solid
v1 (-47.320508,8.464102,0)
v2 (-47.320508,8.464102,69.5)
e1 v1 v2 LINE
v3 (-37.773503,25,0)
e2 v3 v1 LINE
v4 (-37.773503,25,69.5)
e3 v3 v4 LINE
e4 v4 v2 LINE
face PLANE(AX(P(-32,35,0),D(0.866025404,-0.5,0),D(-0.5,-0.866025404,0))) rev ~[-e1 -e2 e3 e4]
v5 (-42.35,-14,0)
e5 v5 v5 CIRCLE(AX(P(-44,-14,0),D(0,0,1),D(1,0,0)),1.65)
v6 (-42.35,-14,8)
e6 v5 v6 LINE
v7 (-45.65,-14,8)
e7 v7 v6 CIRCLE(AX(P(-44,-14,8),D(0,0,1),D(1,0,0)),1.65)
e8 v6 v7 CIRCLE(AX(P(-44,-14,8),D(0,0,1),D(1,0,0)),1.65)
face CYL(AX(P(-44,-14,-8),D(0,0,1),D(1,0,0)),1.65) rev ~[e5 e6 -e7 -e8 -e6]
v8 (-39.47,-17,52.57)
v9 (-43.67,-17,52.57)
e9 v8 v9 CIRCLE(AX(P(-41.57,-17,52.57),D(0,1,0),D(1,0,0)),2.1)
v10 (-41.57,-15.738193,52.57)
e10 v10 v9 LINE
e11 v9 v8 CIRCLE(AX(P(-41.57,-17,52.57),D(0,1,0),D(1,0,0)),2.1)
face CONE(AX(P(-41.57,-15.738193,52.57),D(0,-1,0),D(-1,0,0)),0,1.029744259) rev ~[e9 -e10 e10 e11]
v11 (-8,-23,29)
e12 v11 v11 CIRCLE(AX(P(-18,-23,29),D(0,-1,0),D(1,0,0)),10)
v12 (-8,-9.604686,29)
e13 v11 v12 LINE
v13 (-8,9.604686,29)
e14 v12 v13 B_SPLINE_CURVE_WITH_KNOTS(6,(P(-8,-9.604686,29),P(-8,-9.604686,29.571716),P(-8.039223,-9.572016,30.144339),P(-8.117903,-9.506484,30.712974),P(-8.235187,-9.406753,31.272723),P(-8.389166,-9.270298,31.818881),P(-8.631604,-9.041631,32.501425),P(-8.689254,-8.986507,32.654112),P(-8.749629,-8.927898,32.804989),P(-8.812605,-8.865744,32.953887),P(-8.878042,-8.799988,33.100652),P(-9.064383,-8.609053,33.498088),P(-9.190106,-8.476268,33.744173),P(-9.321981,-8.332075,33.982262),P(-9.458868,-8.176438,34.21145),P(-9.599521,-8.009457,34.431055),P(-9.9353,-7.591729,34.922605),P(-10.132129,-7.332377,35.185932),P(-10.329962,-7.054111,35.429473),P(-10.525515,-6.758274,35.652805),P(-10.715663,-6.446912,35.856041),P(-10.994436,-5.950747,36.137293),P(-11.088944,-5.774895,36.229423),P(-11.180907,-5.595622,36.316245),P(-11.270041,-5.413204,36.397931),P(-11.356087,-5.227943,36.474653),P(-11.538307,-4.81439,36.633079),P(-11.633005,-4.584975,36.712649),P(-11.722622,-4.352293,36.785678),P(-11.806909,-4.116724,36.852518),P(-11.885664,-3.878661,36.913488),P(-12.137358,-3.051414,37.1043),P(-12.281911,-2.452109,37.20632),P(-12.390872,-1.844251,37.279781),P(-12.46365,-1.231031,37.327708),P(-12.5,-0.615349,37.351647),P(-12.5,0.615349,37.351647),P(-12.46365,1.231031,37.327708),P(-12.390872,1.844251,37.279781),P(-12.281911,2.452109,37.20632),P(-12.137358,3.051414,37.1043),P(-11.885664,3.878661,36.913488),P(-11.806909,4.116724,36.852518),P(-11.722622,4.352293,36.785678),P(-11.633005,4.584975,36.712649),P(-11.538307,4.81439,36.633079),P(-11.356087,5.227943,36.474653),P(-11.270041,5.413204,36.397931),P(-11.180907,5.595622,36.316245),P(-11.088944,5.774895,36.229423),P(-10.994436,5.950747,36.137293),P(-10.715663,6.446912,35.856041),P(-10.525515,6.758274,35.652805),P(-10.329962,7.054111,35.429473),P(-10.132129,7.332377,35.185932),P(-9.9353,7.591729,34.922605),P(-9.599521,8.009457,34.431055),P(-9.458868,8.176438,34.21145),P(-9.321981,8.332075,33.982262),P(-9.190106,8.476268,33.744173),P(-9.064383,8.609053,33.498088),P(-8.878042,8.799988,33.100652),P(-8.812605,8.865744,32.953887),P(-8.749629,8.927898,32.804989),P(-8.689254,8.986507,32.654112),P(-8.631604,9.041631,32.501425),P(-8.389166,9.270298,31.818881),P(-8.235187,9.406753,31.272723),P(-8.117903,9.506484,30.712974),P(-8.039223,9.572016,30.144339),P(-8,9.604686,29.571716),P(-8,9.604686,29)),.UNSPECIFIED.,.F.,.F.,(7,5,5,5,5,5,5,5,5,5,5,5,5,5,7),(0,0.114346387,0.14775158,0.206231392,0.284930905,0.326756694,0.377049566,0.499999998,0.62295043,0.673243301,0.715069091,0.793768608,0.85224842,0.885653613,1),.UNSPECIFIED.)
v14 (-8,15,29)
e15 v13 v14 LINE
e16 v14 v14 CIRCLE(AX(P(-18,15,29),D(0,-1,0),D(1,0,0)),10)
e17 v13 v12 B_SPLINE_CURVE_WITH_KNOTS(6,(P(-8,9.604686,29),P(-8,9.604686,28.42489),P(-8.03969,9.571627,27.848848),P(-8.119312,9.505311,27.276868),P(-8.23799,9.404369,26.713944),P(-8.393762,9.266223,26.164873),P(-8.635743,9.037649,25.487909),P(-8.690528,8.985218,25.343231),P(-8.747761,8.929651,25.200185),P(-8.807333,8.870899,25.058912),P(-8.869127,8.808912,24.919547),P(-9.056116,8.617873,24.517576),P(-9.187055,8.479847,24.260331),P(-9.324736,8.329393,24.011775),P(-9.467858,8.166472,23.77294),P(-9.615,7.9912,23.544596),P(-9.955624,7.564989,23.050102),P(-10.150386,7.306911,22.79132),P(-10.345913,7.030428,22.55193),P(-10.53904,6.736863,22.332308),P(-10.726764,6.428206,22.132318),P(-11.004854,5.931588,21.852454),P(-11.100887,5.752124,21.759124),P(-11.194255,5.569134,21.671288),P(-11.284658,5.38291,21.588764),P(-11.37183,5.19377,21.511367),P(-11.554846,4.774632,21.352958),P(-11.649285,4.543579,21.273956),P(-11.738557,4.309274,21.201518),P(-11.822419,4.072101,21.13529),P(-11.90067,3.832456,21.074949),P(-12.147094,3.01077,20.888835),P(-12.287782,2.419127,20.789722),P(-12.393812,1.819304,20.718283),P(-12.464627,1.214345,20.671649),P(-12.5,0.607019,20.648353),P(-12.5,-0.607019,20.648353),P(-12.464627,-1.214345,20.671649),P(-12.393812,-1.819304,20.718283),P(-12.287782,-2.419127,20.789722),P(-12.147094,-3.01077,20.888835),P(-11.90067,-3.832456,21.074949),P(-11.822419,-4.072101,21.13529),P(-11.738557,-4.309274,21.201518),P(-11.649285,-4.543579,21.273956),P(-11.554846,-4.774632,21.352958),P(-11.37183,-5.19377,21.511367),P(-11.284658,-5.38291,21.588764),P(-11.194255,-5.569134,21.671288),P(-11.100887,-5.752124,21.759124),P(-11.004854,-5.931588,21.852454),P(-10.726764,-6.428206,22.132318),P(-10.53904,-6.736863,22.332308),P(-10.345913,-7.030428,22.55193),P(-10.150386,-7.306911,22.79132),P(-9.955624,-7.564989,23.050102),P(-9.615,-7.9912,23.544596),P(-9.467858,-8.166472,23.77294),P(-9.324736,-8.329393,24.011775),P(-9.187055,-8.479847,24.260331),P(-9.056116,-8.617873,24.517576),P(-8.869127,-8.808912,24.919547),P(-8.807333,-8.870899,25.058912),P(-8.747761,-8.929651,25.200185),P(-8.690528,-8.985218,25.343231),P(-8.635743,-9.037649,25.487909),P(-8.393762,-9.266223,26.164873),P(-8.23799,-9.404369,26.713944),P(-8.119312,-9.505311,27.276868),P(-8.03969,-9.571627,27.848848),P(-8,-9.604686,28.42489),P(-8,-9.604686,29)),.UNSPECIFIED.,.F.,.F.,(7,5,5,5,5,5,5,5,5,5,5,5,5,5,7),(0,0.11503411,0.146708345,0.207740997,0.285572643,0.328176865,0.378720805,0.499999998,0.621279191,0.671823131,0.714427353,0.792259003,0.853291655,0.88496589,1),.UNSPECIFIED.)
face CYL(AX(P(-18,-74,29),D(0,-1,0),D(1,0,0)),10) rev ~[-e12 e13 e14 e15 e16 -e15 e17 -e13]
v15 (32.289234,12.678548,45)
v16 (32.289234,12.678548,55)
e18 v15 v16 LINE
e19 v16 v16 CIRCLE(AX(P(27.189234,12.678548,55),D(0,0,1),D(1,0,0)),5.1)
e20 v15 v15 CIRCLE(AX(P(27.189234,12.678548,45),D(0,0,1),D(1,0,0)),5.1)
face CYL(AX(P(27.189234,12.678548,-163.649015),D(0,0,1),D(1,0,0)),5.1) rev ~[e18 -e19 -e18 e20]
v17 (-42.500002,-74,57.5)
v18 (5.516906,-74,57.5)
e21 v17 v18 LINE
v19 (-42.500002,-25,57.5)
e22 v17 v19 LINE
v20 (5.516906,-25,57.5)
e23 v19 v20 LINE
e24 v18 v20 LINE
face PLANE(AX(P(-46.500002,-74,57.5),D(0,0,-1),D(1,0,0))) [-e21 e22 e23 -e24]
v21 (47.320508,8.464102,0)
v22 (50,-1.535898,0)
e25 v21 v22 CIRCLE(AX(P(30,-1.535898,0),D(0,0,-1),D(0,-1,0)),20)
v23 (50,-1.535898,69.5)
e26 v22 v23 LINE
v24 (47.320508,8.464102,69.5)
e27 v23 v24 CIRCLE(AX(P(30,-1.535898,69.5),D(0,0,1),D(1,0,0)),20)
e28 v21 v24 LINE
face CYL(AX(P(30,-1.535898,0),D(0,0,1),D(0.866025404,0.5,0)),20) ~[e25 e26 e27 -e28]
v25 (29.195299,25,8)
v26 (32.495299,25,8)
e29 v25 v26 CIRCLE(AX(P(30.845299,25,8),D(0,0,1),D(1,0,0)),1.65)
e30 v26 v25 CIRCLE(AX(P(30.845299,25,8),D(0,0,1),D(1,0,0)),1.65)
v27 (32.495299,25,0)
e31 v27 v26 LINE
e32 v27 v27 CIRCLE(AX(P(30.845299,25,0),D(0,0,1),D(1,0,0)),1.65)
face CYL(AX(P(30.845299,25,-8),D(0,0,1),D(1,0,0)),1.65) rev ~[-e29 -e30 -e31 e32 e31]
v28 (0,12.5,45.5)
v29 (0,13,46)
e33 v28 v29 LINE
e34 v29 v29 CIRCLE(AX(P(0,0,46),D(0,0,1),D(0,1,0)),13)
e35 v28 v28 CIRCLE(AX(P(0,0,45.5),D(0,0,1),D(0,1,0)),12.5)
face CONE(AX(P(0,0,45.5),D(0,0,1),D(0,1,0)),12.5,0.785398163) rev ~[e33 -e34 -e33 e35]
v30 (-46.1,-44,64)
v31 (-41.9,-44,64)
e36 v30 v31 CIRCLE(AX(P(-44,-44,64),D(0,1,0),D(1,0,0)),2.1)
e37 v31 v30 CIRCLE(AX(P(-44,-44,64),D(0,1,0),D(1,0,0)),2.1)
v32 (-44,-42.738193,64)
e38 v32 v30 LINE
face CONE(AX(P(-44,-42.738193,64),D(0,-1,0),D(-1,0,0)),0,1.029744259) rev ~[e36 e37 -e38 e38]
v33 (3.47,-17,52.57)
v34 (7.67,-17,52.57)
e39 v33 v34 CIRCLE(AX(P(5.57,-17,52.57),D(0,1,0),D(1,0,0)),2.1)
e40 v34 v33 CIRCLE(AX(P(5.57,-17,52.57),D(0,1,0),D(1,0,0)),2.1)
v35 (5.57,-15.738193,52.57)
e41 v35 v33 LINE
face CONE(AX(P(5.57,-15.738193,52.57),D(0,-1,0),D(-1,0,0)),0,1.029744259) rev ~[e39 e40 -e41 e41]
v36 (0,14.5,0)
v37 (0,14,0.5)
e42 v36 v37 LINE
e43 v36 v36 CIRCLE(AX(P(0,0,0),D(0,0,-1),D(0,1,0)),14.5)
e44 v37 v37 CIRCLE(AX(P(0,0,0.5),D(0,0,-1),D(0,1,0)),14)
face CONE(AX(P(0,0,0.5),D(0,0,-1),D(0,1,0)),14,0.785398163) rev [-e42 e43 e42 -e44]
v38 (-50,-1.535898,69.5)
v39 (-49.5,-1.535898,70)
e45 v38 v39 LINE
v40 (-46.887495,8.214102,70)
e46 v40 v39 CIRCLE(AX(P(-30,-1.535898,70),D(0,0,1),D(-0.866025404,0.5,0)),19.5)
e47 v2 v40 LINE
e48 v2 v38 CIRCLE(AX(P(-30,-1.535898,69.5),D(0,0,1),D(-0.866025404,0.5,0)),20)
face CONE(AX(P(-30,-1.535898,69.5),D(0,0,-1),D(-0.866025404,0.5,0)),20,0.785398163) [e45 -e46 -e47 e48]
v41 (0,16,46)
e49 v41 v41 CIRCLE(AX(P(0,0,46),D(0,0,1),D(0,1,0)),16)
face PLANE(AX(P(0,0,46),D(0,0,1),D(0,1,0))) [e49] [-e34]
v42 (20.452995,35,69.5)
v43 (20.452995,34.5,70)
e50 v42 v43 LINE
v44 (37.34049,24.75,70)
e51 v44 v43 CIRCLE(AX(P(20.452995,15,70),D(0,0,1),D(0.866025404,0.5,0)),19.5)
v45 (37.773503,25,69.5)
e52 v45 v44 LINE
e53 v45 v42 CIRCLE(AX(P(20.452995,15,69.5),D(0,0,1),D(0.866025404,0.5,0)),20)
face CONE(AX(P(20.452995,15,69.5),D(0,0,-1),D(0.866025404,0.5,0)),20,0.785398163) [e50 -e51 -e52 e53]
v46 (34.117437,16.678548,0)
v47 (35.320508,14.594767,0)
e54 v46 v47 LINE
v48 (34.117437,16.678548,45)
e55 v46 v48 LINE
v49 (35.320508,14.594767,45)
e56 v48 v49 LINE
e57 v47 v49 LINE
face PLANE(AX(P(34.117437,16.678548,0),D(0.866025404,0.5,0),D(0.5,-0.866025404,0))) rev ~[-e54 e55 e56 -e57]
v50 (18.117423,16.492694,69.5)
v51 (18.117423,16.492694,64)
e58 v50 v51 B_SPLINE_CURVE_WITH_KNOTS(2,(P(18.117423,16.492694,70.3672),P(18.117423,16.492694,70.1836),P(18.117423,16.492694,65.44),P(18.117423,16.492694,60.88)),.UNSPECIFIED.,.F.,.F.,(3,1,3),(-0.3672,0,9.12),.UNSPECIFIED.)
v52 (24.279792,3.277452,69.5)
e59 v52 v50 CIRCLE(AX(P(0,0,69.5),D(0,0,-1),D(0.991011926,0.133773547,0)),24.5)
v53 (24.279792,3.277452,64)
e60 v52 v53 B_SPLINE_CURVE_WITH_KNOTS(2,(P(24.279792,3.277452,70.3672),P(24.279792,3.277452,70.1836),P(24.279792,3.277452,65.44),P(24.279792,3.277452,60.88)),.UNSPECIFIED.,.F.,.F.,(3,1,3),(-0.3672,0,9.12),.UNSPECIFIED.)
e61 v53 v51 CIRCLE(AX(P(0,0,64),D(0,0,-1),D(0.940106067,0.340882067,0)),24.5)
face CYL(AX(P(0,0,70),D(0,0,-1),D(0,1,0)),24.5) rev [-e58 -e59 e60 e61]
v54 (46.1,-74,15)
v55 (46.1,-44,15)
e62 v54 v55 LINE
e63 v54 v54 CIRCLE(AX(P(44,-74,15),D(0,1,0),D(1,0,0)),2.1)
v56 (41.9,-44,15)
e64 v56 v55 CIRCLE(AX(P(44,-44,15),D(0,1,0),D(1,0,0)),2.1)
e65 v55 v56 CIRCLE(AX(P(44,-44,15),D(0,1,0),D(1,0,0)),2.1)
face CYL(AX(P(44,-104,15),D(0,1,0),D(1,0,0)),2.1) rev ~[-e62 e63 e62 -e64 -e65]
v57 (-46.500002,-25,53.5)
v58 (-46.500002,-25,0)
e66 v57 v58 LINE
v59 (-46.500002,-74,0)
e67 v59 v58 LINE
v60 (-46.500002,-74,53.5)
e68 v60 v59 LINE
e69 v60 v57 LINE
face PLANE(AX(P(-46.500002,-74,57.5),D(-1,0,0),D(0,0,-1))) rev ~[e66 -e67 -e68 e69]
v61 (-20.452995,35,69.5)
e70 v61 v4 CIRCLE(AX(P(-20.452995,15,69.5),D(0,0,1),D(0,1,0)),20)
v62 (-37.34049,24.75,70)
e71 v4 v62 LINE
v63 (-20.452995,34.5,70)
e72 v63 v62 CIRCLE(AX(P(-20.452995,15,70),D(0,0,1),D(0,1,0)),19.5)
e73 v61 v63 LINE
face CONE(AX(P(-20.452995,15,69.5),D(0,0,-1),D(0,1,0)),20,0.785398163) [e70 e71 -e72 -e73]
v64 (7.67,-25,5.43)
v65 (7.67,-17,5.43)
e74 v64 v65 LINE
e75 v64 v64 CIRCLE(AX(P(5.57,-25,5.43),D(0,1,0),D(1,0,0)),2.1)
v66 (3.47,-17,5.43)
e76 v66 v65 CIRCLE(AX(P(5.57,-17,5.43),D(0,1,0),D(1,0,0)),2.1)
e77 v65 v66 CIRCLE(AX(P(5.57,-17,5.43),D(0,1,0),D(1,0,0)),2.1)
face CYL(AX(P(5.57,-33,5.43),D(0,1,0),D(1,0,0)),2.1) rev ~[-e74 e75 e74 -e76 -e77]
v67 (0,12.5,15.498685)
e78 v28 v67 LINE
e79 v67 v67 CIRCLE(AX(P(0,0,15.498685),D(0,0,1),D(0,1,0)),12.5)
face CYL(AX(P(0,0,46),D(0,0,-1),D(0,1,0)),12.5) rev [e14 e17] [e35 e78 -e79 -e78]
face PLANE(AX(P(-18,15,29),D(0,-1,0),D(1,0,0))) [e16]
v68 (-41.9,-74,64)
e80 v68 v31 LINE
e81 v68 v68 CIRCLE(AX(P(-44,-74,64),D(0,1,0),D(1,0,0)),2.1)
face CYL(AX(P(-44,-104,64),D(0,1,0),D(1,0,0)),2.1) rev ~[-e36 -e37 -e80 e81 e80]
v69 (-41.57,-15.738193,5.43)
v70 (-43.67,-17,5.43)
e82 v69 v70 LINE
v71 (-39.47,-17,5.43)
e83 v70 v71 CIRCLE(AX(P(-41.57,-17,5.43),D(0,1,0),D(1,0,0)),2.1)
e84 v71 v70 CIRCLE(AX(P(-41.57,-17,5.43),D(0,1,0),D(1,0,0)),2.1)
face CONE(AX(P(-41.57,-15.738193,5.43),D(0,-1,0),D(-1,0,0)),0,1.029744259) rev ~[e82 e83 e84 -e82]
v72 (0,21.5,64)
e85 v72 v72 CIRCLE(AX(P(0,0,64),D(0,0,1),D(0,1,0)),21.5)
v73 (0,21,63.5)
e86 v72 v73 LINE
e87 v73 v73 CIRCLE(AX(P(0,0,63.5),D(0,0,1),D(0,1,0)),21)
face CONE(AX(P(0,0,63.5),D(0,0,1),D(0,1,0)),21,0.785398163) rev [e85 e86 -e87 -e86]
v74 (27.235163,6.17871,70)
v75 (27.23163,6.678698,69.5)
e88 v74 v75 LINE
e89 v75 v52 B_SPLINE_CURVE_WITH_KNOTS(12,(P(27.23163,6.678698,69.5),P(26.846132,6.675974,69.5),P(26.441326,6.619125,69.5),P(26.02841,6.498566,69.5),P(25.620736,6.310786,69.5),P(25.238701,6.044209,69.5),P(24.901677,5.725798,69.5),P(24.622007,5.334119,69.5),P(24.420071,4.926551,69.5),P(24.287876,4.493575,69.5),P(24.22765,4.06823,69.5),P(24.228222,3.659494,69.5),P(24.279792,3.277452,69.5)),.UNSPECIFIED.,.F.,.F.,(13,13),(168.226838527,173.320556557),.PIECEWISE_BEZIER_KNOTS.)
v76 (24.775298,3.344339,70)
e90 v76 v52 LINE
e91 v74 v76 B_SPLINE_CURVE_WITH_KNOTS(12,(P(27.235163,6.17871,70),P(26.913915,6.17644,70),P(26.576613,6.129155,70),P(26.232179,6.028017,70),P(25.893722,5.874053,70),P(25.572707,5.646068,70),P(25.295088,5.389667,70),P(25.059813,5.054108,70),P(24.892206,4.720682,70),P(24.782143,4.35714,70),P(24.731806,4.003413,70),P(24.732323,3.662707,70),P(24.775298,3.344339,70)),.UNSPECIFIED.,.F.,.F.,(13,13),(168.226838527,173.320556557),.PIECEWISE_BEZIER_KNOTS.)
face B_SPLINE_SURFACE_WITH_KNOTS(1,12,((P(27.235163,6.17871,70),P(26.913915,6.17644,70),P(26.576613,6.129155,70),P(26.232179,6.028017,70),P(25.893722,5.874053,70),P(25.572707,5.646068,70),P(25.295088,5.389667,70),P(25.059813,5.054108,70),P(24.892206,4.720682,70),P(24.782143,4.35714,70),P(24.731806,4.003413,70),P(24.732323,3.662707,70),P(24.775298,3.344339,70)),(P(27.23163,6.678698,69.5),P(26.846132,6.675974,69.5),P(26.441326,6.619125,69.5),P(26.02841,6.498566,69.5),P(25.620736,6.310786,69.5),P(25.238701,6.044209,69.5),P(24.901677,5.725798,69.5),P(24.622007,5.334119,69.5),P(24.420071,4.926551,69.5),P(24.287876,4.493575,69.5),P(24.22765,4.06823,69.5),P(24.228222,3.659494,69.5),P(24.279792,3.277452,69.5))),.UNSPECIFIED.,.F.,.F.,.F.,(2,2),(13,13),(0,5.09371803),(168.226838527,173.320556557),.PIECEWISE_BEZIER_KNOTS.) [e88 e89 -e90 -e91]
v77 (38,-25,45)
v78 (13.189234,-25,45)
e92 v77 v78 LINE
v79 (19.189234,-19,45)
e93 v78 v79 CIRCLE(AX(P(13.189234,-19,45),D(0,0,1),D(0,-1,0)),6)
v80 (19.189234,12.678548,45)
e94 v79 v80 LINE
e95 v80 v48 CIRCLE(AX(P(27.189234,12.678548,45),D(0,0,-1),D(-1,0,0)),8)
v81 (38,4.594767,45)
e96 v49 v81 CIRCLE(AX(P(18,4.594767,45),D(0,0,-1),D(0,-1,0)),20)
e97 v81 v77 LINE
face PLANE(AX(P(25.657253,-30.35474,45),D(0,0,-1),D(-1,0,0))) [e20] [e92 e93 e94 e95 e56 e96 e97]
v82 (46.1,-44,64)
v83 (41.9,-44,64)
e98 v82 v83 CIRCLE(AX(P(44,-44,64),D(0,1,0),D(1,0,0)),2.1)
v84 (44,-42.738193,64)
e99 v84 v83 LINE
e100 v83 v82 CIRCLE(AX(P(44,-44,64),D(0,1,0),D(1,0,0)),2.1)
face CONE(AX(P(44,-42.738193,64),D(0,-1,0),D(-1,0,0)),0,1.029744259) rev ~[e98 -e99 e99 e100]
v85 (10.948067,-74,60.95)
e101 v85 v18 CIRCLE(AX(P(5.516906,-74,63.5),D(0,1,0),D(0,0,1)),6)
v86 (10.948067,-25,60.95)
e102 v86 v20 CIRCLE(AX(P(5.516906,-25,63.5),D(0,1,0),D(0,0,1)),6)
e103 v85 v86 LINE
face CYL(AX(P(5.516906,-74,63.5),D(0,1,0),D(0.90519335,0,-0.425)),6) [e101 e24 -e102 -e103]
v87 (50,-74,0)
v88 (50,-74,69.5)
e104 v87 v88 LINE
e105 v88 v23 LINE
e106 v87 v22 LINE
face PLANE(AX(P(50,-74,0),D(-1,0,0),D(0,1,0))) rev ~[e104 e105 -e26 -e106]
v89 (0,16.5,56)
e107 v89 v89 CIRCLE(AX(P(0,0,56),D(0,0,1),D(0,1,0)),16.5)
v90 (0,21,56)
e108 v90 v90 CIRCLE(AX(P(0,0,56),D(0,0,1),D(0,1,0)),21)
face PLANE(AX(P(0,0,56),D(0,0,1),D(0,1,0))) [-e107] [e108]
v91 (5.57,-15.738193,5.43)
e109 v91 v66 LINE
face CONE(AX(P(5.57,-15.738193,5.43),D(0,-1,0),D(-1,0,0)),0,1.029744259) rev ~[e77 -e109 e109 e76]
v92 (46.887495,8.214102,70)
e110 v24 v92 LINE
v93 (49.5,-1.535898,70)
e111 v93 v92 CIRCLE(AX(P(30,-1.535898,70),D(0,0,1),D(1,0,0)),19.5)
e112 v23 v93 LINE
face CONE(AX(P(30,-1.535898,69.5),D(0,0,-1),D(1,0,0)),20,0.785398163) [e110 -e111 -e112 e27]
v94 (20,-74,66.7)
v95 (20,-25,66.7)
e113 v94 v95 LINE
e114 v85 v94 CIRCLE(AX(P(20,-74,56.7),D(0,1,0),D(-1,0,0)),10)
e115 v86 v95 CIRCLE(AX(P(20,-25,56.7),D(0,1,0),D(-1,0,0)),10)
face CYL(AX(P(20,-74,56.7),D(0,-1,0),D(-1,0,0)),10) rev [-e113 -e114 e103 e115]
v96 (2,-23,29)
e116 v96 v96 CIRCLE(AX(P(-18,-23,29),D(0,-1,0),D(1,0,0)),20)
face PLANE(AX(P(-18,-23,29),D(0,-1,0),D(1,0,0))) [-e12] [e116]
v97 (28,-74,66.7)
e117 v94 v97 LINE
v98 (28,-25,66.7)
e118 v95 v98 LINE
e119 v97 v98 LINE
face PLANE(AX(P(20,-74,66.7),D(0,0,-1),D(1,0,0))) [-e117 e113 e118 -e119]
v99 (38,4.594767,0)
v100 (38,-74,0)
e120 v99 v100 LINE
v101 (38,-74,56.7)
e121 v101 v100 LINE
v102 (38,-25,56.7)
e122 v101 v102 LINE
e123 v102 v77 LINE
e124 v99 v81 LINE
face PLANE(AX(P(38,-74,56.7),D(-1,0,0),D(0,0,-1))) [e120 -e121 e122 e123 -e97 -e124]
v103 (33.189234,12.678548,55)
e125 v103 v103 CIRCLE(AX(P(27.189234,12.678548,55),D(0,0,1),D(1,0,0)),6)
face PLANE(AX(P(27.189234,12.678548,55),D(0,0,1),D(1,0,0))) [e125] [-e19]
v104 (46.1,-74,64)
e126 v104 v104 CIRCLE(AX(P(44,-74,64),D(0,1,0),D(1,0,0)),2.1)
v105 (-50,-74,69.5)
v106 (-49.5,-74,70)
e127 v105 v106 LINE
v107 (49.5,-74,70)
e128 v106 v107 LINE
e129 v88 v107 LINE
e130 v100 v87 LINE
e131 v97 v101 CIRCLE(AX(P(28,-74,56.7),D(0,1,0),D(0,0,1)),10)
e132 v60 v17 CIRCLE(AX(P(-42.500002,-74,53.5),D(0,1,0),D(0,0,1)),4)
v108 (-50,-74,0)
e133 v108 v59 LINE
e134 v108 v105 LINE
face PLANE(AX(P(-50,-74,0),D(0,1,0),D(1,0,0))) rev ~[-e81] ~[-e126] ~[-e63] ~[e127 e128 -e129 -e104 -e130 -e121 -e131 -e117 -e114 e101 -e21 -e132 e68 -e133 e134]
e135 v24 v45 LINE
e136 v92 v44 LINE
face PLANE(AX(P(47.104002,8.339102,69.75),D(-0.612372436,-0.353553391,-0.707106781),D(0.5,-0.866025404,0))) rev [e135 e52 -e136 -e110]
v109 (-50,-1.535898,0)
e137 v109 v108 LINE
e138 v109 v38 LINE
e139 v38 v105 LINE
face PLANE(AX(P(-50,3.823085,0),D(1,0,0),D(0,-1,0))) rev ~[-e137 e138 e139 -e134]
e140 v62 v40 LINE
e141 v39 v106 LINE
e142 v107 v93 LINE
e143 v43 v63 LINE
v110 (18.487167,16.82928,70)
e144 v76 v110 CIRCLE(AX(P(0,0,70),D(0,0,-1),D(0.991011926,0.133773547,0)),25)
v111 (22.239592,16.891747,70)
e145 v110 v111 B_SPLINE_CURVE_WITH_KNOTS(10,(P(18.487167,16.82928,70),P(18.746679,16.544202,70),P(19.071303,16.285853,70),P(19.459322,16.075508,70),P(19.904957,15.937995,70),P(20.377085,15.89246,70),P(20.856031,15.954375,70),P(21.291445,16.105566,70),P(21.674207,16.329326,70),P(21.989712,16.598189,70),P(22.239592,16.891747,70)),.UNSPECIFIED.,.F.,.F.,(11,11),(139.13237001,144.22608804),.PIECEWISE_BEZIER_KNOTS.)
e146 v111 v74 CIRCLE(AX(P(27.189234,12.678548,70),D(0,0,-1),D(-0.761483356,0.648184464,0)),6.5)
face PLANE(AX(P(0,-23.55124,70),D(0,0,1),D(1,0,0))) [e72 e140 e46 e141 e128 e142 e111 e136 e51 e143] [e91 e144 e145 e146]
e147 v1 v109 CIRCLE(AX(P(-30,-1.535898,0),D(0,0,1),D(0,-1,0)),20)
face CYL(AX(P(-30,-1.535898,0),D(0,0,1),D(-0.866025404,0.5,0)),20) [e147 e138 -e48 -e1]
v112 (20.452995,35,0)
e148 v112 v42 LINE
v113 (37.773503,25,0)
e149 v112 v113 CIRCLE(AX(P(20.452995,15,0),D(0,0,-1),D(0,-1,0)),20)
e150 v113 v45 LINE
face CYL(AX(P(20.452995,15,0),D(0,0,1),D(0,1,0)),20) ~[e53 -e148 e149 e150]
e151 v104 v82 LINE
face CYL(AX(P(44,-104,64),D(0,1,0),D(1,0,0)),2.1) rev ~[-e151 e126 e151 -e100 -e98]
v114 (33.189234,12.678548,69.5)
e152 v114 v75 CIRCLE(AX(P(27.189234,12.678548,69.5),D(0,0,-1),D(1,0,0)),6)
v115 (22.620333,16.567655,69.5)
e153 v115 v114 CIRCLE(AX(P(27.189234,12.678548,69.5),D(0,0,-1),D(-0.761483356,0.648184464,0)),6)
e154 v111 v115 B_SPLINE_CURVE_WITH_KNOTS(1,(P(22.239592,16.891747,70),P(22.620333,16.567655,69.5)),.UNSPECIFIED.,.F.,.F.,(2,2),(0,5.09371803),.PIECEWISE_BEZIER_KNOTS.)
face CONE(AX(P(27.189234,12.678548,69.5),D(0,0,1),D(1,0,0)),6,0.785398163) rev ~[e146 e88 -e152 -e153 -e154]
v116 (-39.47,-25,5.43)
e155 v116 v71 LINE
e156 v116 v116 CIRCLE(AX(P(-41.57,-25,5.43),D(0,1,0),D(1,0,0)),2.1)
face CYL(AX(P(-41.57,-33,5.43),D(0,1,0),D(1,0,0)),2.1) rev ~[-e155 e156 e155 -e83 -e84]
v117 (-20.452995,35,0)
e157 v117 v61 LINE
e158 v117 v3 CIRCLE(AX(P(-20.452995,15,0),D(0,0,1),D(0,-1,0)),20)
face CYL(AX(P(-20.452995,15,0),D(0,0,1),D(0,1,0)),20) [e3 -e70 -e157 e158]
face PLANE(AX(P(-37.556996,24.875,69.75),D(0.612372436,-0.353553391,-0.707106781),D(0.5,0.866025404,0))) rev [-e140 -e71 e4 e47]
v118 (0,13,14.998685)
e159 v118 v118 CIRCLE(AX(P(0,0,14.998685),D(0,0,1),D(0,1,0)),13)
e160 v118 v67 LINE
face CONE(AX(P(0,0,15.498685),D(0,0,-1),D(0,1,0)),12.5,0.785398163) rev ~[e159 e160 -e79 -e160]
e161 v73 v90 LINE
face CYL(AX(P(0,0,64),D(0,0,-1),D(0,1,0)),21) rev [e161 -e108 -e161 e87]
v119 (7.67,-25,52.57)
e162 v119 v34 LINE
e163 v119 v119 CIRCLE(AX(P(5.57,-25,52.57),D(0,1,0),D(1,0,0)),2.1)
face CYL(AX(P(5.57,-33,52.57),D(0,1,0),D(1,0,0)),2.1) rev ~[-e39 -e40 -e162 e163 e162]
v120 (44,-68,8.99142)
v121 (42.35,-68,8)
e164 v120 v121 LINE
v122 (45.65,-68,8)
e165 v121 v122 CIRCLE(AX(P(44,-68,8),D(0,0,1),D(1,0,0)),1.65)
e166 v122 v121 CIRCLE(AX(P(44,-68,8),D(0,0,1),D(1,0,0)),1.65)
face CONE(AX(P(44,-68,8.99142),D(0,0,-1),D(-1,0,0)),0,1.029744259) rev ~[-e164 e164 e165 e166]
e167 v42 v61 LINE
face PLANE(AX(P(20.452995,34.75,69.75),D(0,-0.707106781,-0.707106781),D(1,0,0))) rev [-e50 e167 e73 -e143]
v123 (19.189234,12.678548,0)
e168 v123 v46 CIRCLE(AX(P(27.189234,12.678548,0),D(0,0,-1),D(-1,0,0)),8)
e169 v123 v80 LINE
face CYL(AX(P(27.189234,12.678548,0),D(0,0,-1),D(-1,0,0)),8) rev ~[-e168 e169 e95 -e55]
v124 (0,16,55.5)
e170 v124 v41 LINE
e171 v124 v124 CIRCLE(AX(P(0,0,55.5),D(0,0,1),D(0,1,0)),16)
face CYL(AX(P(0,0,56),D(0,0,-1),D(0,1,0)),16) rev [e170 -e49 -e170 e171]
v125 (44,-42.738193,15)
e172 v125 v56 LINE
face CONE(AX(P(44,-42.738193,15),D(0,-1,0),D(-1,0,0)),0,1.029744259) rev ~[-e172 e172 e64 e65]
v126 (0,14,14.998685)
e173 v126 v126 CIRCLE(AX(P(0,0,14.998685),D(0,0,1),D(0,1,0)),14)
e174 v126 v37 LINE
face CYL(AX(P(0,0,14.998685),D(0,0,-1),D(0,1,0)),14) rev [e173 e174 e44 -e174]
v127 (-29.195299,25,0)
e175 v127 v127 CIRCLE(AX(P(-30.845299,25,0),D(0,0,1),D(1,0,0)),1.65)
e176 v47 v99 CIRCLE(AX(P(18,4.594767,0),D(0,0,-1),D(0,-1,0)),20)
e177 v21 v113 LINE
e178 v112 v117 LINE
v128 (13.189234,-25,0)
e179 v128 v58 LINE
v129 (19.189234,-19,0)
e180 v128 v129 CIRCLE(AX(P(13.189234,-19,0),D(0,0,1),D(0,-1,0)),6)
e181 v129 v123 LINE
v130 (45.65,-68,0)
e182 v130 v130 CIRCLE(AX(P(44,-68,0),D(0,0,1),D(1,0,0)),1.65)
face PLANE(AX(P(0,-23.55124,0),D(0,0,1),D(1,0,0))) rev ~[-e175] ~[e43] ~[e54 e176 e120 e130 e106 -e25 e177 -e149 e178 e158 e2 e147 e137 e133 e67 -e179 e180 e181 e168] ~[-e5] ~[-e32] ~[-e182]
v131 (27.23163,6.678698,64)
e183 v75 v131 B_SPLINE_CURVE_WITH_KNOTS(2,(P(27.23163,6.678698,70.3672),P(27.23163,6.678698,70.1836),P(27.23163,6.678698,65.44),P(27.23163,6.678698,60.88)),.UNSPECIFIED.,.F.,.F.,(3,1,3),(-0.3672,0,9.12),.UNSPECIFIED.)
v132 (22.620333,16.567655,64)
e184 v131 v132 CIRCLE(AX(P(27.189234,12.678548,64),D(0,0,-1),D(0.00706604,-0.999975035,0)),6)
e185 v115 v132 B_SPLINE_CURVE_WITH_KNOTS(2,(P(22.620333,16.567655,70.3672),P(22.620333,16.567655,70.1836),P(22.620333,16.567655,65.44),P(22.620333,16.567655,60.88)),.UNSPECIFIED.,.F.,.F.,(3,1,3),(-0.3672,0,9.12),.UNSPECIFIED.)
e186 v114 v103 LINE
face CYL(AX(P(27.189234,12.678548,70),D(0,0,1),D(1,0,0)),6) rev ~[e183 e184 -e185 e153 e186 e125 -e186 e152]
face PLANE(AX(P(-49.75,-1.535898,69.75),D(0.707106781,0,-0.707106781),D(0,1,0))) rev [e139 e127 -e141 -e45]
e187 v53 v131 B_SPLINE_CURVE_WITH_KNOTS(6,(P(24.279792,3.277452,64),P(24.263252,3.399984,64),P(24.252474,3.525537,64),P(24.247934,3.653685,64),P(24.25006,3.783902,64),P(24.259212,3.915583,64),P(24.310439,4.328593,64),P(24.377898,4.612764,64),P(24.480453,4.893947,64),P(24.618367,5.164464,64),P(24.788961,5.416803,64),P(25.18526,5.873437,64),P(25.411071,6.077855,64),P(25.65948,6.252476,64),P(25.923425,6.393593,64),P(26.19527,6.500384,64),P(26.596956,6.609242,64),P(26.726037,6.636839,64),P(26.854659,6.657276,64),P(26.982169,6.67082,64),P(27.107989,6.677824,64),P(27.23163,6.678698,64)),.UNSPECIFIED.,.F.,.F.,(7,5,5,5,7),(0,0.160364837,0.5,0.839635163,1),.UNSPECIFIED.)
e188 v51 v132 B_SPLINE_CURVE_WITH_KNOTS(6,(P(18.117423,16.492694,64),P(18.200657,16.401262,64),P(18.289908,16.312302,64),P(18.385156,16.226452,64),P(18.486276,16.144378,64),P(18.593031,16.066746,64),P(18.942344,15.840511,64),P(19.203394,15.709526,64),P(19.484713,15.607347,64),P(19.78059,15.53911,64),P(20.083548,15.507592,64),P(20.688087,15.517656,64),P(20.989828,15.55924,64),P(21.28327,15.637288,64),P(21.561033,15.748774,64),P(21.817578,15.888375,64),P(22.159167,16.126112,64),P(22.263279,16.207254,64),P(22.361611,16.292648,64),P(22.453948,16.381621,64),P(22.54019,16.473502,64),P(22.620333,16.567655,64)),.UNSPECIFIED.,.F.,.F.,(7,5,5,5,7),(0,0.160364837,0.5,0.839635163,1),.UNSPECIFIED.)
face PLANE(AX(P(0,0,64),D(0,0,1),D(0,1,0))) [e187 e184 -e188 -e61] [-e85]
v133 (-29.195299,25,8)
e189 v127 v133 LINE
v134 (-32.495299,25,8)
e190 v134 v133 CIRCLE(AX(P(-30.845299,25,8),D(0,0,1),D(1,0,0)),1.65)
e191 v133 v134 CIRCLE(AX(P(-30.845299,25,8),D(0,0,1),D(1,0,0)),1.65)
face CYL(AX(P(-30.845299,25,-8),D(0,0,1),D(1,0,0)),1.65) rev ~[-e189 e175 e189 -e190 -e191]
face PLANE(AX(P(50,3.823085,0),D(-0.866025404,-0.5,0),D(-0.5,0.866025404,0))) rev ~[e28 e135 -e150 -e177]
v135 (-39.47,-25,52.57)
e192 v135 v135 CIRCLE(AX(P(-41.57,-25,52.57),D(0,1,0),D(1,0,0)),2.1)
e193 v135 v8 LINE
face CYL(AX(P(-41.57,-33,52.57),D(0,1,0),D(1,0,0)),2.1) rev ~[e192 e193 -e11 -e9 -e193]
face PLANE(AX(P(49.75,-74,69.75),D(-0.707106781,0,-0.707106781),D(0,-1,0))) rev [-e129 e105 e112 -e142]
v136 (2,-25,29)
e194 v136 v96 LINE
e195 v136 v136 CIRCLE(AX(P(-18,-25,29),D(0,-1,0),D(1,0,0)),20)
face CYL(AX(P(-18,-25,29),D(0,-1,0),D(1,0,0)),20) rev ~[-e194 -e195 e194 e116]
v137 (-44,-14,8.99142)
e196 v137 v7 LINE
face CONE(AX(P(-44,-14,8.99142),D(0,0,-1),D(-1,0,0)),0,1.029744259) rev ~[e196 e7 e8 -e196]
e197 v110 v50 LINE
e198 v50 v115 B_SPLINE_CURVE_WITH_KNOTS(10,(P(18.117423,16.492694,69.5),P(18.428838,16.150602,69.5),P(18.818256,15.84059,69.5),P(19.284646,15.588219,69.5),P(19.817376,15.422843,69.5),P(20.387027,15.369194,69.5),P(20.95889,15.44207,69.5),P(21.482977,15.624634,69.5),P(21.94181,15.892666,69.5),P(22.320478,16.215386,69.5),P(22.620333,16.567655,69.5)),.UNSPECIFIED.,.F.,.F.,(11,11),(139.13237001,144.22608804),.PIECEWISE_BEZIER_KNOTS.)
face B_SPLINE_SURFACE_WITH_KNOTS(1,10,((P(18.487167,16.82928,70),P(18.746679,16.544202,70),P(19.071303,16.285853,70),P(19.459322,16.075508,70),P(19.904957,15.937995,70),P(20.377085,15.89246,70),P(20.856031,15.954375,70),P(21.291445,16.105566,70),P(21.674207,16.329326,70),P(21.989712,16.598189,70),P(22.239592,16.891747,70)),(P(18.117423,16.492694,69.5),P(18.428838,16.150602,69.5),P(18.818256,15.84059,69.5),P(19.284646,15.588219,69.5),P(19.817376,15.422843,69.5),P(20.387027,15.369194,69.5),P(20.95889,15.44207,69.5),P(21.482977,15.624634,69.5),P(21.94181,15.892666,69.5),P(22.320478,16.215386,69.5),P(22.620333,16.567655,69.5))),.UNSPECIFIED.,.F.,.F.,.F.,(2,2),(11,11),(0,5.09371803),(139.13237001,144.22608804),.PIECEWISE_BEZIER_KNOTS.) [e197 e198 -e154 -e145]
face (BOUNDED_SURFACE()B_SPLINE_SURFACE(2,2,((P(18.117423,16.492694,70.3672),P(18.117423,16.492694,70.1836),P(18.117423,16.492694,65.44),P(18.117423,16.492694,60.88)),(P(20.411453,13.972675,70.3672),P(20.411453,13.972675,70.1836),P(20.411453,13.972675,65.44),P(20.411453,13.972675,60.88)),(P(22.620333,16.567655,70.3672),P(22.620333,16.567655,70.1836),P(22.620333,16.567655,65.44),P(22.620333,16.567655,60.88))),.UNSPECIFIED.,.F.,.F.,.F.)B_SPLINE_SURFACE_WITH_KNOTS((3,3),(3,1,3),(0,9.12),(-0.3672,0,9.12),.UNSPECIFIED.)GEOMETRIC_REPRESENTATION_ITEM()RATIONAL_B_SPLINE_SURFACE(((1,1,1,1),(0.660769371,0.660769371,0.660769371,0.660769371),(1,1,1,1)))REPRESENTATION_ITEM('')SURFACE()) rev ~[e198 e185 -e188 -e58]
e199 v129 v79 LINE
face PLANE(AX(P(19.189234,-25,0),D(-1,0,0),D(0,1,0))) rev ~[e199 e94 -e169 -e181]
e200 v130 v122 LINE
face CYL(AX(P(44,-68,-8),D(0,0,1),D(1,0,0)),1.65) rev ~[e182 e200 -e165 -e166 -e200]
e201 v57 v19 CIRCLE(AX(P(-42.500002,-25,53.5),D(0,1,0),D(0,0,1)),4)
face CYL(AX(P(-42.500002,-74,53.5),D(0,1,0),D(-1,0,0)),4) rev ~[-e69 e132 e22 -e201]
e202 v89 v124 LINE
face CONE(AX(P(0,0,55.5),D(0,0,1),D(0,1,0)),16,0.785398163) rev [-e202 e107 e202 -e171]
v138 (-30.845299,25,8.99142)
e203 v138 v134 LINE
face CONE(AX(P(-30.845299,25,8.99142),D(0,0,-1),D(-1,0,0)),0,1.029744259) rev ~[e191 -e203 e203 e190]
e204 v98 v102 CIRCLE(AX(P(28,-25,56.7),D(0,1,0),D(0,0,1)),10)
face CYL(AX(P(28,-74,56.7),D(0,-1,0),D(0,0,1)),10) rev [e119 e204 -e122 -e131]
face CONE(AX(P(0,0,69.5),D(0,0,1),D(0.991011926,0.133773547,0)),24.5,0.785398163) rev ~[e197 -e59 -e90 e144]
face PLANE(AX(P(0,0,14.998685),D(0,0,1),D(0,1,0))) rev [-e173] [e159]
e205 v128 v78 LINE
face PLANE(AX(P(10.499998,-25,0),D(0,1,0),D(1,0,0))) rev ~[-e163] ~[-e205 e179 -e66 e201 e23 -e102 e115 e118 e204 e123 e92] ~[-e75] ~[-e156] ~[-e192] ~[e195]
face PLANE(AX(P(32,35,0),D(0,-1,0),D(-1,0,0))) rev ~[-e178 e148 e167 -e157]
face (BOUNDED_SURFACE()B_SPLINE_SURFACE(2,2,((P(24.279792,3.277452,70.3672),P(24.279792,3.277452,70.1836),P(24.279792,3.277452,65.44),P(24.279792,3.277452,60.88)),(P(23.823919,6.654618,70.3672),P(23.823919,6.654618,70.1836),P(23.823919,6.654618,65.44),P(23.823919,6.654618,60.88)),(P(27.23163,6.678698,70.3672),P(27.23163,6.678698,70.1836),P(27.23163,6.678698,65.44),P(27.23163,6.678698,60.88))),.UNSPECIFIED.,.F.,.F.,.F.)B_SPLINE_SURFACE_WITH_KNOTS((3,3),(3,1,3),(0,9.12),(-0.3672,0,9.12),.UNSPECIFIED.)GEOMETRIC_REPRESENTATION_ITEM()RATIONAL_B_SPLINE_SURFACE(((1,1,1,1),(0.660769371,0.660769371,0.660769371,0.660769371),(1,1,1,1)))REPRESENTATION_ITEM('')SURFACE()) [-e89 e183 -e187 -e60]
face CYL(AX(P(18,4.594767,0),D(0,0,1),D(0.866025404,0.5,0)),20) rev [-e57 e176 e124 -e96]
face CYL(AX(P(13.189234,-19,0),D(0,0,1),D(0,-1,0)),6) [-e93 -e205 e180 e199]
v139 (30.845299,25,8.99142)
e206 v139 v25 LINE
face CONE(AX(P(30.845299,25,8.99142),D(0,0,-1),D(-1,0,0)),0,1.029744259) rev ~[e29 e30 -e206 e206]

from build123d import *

# Parameters (mm, degrees)
BOSS_EXTRU_1_DEPTH                            = 70
TROU_POUR_TARAUDAGE_POUR_TROU_TARAUD_M1_D     = 10.2
D_GAGEMENT_M121_D                             = 13.5
D_GAGEMENT_M121_DEPTH                         = 40
D_GAGEMENT_M121_TIP                           = 4.055809178
CONG_2_R                                      = 20
ESQUISSE8_R                                   = 10
ENL_V_MAT_EXTRU_2_DEPTH                       = 89
ENL_V_MAT_EXTRU_3_DEPTH                       = 49
CONG_3_R                                      = 4
ESQUISSE10_R                                  = 20
ENL_V_MAT_EXTRU_4_DEPTH                       = 2
TROU_POUR_TARAUDAGE_POUR_TROU_TARAUD_M5_D     = 4.2
TROU_POUR_TARAUDAGE_POUR_TROU_TARAUD_M5_DEPTH = 8
TROU_POUR_TARAUDAGE_POUR_TROU_TARAUD_M5_TIP   = 1.2618073
ESQUISSE15_R                                  = 6
ENL_V_MAT_EXTRU_5_DEPTH                       = 15
CONG_4_R                                      = 3
ENL_V_MAT_EXTRU_6_DEPTH                       = 45
CONG_5_R                                      = 20
CONG_6_R                                      = 6
TROU_POUR_TARAUDAGE_POUR_TROU_TARAUD_2_D      = 4.2
TROU_POUR_TARAUDAGE_POUR_TROU_TARAUD_2_DEPTH  = 30
TROU_POUR_TARAUDAGE_POUR_TROU_TARAUD_2_TIP    = 1.2618073
TROU_POUR_TARAUDAGE_POUR_TROU_TARAUD_M4_D     = 3.3
TROU_POUR_TARAUDAGE_POUR_TROU_TARAUD_M4_DEPTH = 8
TROU_POUR_TARAUDAGE_POUR_TROU_TARAUD_M4_TIP   = 0.991420021
CHANFREIN2_SIZE                               = 0.5
CONG_7_R                                      = 6


with BuildPart() as part:
    # Esquisse1 → Boss.-Extru.1 (new body)
    with BuildSketch(Plane.XY):
        Polygon((32, 35), (-32, 35), (-50, 3.823085464), (-50, -74), (50, -74), (50, 3.823085464), align=None)
    extrude(amount=BOSS_EXTRU_1_DEPTH)

    # Trou pour taraudage pour trou taraudé M121 (through all)
    with Locations(Plane(origin=(0, -30, 0), x_dir=(-1, 0, 0), z_dir=(0, 0, -1))):
        with Locations((-27.189233611, 42.678547852), (0, 30)):
            Hole(TROU_POUR_TARAUDAGE_POUR_TROU_TARAUD_M1_D / 2)

    # Dégagement M121
    with Locations(Plane(origin=(0, 30, 0), x_dir=(1, 0, 0), z_dir=(0, 0, -1))):
        with Locations((27.189233611, 17.321452148)):
            Hole(D_GAGEMENT_M121_D / 2, depth=D_GAGEMENT_M121_DEPTH)
            with Locations((0, 0, -(D_GAGEMENT_M121_DEPTH + D_GAGEMENT_M121_TIP / 2))):  # 118° drill point
                Cone(0, D_GAGEMENT_M121_D / 2, D_GAGEMENT_M121_TIP, mode=Mode.SUBTRACT)

    # Congé2
    cong_2_edges = [part.edges().sort_by_distance(p)[0] for p in [
        (-50, 3.823085464, 35),
        (-32, 35, 35),
        (32, 35, 35),
        (50, 3.823085464, 35),
    ]]
    fillet(cong_2_edges, radius=CONG_2_R)

    # Esquisse8 → Enlèv. mat.-Extru.2 (cut)
    with BuildSketch(Plane.XZ.offset(74)):
        with Locations((-18, 29)):
            Circle(ESQUISSE8_R)
    extrude(amount=-ENL_V_MAT_EXTRU_2_DEPTH, mode=Mode.SUBTRACT)

    # Esquisse9 → Enlèv. mat.-Extru.3 (cut)
    with BuildSketch(Plane.XZ.offset(74)):
        Polygon((-46.500001617, 0.499996766), (-46.500001617, 57.5), (10.499998383, 57.5), (10.499998383, 0.500003234), (10.499998383, 0), (-46.500001617, 0), align=None)
        with BuildLine():
            Line((38, 56.7), (38, 45))
            Line((38, 45), (10, 45))
            Line((10, 45), (10, 56.7))
            ThreePointArc((10, 56.7), (12.928932188, 63.771067812), (20, 66.7))
            Line((20, 66.7), (28, 66.7))
            ThreePointArc((28, 66.7), (35.071067812, 63.771067812), (38, 56.7))
        make_face()
    extrude(amount=-ENL_V_MAT_EXTRU_3_DEPTH, mode=Mode.SUBTRACT)

    # Congé3
    cong_3_edges = [part.edges().sort_by_distance(p)[0] for p in [
        (-46.500001617, -49.5, 57.5),
    ]]
    fillet(cong_3_edges, radius=CONG_3_R)

    # Esquisse10 → Enlèv. mat.-Extru.4 (cut)
    with BuildSketch(Plane.XZ.offset(25)):
        with Locations((-18, 29)):
            Circle(ESQUISSE10_R)
    extrude(amount=-ENL_V_MAT_EXTRU_4_DEPTH, mode=Mode.SUBTRACT)

    # Trou pour taraudage pour trou taraud_ M5
    with Locations(Plane(origin=(0, -25, 0), x_dir=(-1, 0, 0), z_dir=(0, -1, 0))):
        with Locations((-5.57, -52.57), (41.57, -5.43), (41.57, -52.57), (-5.57, -5.43), (18, -29)):
            Hole(TROU_POUR_TARAUDAGE_POUR_TROU_TARAUD_M5_D / 2, depth=TROU_POUR_TARAUDAGE_POUR_TROU_TARAUD_M5_DEPTH)
            with Locations((0, 0, -(TROU_POUR_TARAUDAGE_POUR_TROU_TARAUD_M5_DEPTH + TROU_POUR_TARAUDAGE_POUR_TROU_TARAUD_M5_TIP / 2))):  # 118° drill point
                Cone(0, TROU_POUR_TARAUDAGE_POUR_TROU_TARAUD_M5_D / 2, TROU_POUR_TARAUDAGE_POUR_TROU_TARAUD_M5_TIP, mode=Mode.SUBTRACT)

    # Esquisse14 → Enlèvement de matière-Révolution2 (revolve, cut)
    with BuildSketch(Plane(origin=(0, 0, 0), x_dir=(0, 0, -1), z_dir=(1, 0, 0))):
        Polygon((0, 0), (-70, 0), (-70, 24.5), (-64, 24.5), (-64, 21), (-56, 21), (-56, 16), (-46, 16), (-46, 12.5), (-14.998685055, 12.5), (-14.998685055, 14), (0.001314945, 14), align=None)
    revolve(axis=Axis((0, 0, 0), (0, 0, 1)), mode=Mode.SUBTRACT)

    # Esquisse15 → Enlèv. mat.-Extru.5 (cut)
    with BuildSketch(Plane.XY.offset(70)):
        with Locations((27.189233611, 12.678547852)):
            Circle(ESQUISSE15_R)
    extrude(amount=-ENL_V_MAT_EXTRU_5_DEPTH, mode=Mode.SUBTRACT)

    # Congé4
    cong_4_edges = [part.edges().sort_by_distance(p)[0] for p in [
        (23.032598632, 8.351610639, 67),
        (21.20277394, 12.275682353, 67),
    ]]
    fillet(cong_4_edges, radius=CONG_4_R)

    # Esquisse16 → Enlèv. mat.-Extru.6 (cut)
    with BuildSketch(Plane(origin=(0, 0, 0), x_dir=(-1, 0, 0), z_dir=(0, 0, -1))):
        with BuildLine():
            Line((-38, -74), (-20.439233611, -74))
            Line((-20.439233611, -74), (-10.499998383, -74))
            Line((-10.499998383, -74), (-10.499998383, -25))
            Line((-10.499998383, -25), (-19.189233611, -25))
            Line((-19.189233611, -25), (-19.189233611, 12.678547852))
            ThreePointArc((-19.189233611, 12.678547852), (-25.11868125, 20.405954463), (-34.117436841, 16.678547852))
            Line((-34.117436841, 16.678547852), (-38, 9.953751198))
            Line((-38, 9.953751198), (-38, -74))
        make_face()
    extrude(amount=-ENL_V_MAT_EXTRU_6_DEPTH, mode=Mode.SUBTRACT)

    # Congé5
    cong_5_edges = [part.edges().sort_by_distance(p)[0] for p in [
        (38, 9.953751198, 22.5),
    ]]
    fillet(cong_5_edges, radius=CONG_5_R)

    # Congé6
    cong_6_edges = [part.edges().sort_by_distance(p)[0] for p in [
        (19.189233611, -25, 22.5),
    ]]
    fillet(cong_6_edges, radius=CONG_6_R)

    # Trou pour taraudage pour trou taraud 2
    with Locations(Plane(origin=(0, -74, 0), x_dir=(-1, 0, 0), z_dir=(0, -1, 0))):
        with Locations((44, -64), (-44, -64), (-44, -15)):
            Hole(TROU_POUR_TARAUDAGE_POUR_TROU_TARAUD_2_D / 2, depth=TROU_POUR_TARAUDAGE_POUR_TROU_TARAUD_2_DEPTH)
            with Locations((0, 0, -(TROU_POUR_TARAUDAGE_POUR_TROU_TARAUD_2_DEPTH + TROU_POUR_TARAUDAGE_POUR_TROU_TARAUD_2_TIP / 2))):  # 118° drill point
                Cone(0, TROU_POUR_TARAUDAGE_POUR_TROU_TARAUD_2_D / 2, TROU_POUR_TARAUDAGE_POUR_TROU_TARAUD_2_TIP, mode=Mode.SUBTRACT)

    # Trou pour taraudage pour trou taraudé M41
    with Locations(Plane(origin=(0, 0, 0), x_dir=(-1, 0, 0), z_dir=(0, 0, -1))):
        with Locations((44, -14), (30.845299462, 25), (-30.845299462, 25), (-44, -68)):
            Hole(TROU_POUR_TARAUDAGE_POUR_TROU_TARAUD_M4_D / 2, depth=TROU_POUR_TARAUDAGE_POUR_TROU_TARAUD_M4_DEPTH)
            with Locations((0, 0, -(TROU_POUR_TARAUDAGE_POUR_TROU_TARAUD_M4_DEPTH + TROU_POUR_TARAUDAGE_POUR_TROU_TARAUD_M4_TIP / 2))):  # 118° drill point
                Cone(0, TROU_POUR_TARAUDAGE_POUR_TROU_TARAUD_M4_D / 2, TROU_POUR_TARAUDAGE_POUR_TROU_TARAUD_M4_TIP, mode=Mode.SUBTRACT)

    # Chanfrein2
    chanfrein2_edges = [part.edges().sort_by_distance(p)[0] for p in [
        (50, -37.767949192, 70),
        (0, -14, 0),
        (0, -12.5, 46),
        (0, -21, 64),
        (0, -16, 56),
        (0, -12.5, 14.998685055),
        (-22.204540782, -10.354147413, 70),
        (29.261261506, 18.309418158, 70),
        (20.385817669, 15.512623626, 70),
        (24.987110138, 5.645120084, 70),
        (-50, -37.767949192, 70),
        (-42.547005384, 16.732050808, 70),
        (42.547005384, 16.732050808, 70),
        (0, 35, 70),
        (30.452994616, 32.320508076, 70),
        (-30.452994616, 32.320508076, 70),
        (49.318516526, 3.640482517, 70),
        (-49.318516526, 3.640482517, 70),
    ]]
    chamfer(chanfrein2_edges, length=CHANFREIN2_SIZE)

    # Congé7
    cong_7_edges = [part.edges().sort_by_distance(p)[0] for p in [
        (10.032051364, -49.5, 57.5),
    ]]
    fillet(cong_7_edges, radius=CONG_7_R)


solid = part.part
